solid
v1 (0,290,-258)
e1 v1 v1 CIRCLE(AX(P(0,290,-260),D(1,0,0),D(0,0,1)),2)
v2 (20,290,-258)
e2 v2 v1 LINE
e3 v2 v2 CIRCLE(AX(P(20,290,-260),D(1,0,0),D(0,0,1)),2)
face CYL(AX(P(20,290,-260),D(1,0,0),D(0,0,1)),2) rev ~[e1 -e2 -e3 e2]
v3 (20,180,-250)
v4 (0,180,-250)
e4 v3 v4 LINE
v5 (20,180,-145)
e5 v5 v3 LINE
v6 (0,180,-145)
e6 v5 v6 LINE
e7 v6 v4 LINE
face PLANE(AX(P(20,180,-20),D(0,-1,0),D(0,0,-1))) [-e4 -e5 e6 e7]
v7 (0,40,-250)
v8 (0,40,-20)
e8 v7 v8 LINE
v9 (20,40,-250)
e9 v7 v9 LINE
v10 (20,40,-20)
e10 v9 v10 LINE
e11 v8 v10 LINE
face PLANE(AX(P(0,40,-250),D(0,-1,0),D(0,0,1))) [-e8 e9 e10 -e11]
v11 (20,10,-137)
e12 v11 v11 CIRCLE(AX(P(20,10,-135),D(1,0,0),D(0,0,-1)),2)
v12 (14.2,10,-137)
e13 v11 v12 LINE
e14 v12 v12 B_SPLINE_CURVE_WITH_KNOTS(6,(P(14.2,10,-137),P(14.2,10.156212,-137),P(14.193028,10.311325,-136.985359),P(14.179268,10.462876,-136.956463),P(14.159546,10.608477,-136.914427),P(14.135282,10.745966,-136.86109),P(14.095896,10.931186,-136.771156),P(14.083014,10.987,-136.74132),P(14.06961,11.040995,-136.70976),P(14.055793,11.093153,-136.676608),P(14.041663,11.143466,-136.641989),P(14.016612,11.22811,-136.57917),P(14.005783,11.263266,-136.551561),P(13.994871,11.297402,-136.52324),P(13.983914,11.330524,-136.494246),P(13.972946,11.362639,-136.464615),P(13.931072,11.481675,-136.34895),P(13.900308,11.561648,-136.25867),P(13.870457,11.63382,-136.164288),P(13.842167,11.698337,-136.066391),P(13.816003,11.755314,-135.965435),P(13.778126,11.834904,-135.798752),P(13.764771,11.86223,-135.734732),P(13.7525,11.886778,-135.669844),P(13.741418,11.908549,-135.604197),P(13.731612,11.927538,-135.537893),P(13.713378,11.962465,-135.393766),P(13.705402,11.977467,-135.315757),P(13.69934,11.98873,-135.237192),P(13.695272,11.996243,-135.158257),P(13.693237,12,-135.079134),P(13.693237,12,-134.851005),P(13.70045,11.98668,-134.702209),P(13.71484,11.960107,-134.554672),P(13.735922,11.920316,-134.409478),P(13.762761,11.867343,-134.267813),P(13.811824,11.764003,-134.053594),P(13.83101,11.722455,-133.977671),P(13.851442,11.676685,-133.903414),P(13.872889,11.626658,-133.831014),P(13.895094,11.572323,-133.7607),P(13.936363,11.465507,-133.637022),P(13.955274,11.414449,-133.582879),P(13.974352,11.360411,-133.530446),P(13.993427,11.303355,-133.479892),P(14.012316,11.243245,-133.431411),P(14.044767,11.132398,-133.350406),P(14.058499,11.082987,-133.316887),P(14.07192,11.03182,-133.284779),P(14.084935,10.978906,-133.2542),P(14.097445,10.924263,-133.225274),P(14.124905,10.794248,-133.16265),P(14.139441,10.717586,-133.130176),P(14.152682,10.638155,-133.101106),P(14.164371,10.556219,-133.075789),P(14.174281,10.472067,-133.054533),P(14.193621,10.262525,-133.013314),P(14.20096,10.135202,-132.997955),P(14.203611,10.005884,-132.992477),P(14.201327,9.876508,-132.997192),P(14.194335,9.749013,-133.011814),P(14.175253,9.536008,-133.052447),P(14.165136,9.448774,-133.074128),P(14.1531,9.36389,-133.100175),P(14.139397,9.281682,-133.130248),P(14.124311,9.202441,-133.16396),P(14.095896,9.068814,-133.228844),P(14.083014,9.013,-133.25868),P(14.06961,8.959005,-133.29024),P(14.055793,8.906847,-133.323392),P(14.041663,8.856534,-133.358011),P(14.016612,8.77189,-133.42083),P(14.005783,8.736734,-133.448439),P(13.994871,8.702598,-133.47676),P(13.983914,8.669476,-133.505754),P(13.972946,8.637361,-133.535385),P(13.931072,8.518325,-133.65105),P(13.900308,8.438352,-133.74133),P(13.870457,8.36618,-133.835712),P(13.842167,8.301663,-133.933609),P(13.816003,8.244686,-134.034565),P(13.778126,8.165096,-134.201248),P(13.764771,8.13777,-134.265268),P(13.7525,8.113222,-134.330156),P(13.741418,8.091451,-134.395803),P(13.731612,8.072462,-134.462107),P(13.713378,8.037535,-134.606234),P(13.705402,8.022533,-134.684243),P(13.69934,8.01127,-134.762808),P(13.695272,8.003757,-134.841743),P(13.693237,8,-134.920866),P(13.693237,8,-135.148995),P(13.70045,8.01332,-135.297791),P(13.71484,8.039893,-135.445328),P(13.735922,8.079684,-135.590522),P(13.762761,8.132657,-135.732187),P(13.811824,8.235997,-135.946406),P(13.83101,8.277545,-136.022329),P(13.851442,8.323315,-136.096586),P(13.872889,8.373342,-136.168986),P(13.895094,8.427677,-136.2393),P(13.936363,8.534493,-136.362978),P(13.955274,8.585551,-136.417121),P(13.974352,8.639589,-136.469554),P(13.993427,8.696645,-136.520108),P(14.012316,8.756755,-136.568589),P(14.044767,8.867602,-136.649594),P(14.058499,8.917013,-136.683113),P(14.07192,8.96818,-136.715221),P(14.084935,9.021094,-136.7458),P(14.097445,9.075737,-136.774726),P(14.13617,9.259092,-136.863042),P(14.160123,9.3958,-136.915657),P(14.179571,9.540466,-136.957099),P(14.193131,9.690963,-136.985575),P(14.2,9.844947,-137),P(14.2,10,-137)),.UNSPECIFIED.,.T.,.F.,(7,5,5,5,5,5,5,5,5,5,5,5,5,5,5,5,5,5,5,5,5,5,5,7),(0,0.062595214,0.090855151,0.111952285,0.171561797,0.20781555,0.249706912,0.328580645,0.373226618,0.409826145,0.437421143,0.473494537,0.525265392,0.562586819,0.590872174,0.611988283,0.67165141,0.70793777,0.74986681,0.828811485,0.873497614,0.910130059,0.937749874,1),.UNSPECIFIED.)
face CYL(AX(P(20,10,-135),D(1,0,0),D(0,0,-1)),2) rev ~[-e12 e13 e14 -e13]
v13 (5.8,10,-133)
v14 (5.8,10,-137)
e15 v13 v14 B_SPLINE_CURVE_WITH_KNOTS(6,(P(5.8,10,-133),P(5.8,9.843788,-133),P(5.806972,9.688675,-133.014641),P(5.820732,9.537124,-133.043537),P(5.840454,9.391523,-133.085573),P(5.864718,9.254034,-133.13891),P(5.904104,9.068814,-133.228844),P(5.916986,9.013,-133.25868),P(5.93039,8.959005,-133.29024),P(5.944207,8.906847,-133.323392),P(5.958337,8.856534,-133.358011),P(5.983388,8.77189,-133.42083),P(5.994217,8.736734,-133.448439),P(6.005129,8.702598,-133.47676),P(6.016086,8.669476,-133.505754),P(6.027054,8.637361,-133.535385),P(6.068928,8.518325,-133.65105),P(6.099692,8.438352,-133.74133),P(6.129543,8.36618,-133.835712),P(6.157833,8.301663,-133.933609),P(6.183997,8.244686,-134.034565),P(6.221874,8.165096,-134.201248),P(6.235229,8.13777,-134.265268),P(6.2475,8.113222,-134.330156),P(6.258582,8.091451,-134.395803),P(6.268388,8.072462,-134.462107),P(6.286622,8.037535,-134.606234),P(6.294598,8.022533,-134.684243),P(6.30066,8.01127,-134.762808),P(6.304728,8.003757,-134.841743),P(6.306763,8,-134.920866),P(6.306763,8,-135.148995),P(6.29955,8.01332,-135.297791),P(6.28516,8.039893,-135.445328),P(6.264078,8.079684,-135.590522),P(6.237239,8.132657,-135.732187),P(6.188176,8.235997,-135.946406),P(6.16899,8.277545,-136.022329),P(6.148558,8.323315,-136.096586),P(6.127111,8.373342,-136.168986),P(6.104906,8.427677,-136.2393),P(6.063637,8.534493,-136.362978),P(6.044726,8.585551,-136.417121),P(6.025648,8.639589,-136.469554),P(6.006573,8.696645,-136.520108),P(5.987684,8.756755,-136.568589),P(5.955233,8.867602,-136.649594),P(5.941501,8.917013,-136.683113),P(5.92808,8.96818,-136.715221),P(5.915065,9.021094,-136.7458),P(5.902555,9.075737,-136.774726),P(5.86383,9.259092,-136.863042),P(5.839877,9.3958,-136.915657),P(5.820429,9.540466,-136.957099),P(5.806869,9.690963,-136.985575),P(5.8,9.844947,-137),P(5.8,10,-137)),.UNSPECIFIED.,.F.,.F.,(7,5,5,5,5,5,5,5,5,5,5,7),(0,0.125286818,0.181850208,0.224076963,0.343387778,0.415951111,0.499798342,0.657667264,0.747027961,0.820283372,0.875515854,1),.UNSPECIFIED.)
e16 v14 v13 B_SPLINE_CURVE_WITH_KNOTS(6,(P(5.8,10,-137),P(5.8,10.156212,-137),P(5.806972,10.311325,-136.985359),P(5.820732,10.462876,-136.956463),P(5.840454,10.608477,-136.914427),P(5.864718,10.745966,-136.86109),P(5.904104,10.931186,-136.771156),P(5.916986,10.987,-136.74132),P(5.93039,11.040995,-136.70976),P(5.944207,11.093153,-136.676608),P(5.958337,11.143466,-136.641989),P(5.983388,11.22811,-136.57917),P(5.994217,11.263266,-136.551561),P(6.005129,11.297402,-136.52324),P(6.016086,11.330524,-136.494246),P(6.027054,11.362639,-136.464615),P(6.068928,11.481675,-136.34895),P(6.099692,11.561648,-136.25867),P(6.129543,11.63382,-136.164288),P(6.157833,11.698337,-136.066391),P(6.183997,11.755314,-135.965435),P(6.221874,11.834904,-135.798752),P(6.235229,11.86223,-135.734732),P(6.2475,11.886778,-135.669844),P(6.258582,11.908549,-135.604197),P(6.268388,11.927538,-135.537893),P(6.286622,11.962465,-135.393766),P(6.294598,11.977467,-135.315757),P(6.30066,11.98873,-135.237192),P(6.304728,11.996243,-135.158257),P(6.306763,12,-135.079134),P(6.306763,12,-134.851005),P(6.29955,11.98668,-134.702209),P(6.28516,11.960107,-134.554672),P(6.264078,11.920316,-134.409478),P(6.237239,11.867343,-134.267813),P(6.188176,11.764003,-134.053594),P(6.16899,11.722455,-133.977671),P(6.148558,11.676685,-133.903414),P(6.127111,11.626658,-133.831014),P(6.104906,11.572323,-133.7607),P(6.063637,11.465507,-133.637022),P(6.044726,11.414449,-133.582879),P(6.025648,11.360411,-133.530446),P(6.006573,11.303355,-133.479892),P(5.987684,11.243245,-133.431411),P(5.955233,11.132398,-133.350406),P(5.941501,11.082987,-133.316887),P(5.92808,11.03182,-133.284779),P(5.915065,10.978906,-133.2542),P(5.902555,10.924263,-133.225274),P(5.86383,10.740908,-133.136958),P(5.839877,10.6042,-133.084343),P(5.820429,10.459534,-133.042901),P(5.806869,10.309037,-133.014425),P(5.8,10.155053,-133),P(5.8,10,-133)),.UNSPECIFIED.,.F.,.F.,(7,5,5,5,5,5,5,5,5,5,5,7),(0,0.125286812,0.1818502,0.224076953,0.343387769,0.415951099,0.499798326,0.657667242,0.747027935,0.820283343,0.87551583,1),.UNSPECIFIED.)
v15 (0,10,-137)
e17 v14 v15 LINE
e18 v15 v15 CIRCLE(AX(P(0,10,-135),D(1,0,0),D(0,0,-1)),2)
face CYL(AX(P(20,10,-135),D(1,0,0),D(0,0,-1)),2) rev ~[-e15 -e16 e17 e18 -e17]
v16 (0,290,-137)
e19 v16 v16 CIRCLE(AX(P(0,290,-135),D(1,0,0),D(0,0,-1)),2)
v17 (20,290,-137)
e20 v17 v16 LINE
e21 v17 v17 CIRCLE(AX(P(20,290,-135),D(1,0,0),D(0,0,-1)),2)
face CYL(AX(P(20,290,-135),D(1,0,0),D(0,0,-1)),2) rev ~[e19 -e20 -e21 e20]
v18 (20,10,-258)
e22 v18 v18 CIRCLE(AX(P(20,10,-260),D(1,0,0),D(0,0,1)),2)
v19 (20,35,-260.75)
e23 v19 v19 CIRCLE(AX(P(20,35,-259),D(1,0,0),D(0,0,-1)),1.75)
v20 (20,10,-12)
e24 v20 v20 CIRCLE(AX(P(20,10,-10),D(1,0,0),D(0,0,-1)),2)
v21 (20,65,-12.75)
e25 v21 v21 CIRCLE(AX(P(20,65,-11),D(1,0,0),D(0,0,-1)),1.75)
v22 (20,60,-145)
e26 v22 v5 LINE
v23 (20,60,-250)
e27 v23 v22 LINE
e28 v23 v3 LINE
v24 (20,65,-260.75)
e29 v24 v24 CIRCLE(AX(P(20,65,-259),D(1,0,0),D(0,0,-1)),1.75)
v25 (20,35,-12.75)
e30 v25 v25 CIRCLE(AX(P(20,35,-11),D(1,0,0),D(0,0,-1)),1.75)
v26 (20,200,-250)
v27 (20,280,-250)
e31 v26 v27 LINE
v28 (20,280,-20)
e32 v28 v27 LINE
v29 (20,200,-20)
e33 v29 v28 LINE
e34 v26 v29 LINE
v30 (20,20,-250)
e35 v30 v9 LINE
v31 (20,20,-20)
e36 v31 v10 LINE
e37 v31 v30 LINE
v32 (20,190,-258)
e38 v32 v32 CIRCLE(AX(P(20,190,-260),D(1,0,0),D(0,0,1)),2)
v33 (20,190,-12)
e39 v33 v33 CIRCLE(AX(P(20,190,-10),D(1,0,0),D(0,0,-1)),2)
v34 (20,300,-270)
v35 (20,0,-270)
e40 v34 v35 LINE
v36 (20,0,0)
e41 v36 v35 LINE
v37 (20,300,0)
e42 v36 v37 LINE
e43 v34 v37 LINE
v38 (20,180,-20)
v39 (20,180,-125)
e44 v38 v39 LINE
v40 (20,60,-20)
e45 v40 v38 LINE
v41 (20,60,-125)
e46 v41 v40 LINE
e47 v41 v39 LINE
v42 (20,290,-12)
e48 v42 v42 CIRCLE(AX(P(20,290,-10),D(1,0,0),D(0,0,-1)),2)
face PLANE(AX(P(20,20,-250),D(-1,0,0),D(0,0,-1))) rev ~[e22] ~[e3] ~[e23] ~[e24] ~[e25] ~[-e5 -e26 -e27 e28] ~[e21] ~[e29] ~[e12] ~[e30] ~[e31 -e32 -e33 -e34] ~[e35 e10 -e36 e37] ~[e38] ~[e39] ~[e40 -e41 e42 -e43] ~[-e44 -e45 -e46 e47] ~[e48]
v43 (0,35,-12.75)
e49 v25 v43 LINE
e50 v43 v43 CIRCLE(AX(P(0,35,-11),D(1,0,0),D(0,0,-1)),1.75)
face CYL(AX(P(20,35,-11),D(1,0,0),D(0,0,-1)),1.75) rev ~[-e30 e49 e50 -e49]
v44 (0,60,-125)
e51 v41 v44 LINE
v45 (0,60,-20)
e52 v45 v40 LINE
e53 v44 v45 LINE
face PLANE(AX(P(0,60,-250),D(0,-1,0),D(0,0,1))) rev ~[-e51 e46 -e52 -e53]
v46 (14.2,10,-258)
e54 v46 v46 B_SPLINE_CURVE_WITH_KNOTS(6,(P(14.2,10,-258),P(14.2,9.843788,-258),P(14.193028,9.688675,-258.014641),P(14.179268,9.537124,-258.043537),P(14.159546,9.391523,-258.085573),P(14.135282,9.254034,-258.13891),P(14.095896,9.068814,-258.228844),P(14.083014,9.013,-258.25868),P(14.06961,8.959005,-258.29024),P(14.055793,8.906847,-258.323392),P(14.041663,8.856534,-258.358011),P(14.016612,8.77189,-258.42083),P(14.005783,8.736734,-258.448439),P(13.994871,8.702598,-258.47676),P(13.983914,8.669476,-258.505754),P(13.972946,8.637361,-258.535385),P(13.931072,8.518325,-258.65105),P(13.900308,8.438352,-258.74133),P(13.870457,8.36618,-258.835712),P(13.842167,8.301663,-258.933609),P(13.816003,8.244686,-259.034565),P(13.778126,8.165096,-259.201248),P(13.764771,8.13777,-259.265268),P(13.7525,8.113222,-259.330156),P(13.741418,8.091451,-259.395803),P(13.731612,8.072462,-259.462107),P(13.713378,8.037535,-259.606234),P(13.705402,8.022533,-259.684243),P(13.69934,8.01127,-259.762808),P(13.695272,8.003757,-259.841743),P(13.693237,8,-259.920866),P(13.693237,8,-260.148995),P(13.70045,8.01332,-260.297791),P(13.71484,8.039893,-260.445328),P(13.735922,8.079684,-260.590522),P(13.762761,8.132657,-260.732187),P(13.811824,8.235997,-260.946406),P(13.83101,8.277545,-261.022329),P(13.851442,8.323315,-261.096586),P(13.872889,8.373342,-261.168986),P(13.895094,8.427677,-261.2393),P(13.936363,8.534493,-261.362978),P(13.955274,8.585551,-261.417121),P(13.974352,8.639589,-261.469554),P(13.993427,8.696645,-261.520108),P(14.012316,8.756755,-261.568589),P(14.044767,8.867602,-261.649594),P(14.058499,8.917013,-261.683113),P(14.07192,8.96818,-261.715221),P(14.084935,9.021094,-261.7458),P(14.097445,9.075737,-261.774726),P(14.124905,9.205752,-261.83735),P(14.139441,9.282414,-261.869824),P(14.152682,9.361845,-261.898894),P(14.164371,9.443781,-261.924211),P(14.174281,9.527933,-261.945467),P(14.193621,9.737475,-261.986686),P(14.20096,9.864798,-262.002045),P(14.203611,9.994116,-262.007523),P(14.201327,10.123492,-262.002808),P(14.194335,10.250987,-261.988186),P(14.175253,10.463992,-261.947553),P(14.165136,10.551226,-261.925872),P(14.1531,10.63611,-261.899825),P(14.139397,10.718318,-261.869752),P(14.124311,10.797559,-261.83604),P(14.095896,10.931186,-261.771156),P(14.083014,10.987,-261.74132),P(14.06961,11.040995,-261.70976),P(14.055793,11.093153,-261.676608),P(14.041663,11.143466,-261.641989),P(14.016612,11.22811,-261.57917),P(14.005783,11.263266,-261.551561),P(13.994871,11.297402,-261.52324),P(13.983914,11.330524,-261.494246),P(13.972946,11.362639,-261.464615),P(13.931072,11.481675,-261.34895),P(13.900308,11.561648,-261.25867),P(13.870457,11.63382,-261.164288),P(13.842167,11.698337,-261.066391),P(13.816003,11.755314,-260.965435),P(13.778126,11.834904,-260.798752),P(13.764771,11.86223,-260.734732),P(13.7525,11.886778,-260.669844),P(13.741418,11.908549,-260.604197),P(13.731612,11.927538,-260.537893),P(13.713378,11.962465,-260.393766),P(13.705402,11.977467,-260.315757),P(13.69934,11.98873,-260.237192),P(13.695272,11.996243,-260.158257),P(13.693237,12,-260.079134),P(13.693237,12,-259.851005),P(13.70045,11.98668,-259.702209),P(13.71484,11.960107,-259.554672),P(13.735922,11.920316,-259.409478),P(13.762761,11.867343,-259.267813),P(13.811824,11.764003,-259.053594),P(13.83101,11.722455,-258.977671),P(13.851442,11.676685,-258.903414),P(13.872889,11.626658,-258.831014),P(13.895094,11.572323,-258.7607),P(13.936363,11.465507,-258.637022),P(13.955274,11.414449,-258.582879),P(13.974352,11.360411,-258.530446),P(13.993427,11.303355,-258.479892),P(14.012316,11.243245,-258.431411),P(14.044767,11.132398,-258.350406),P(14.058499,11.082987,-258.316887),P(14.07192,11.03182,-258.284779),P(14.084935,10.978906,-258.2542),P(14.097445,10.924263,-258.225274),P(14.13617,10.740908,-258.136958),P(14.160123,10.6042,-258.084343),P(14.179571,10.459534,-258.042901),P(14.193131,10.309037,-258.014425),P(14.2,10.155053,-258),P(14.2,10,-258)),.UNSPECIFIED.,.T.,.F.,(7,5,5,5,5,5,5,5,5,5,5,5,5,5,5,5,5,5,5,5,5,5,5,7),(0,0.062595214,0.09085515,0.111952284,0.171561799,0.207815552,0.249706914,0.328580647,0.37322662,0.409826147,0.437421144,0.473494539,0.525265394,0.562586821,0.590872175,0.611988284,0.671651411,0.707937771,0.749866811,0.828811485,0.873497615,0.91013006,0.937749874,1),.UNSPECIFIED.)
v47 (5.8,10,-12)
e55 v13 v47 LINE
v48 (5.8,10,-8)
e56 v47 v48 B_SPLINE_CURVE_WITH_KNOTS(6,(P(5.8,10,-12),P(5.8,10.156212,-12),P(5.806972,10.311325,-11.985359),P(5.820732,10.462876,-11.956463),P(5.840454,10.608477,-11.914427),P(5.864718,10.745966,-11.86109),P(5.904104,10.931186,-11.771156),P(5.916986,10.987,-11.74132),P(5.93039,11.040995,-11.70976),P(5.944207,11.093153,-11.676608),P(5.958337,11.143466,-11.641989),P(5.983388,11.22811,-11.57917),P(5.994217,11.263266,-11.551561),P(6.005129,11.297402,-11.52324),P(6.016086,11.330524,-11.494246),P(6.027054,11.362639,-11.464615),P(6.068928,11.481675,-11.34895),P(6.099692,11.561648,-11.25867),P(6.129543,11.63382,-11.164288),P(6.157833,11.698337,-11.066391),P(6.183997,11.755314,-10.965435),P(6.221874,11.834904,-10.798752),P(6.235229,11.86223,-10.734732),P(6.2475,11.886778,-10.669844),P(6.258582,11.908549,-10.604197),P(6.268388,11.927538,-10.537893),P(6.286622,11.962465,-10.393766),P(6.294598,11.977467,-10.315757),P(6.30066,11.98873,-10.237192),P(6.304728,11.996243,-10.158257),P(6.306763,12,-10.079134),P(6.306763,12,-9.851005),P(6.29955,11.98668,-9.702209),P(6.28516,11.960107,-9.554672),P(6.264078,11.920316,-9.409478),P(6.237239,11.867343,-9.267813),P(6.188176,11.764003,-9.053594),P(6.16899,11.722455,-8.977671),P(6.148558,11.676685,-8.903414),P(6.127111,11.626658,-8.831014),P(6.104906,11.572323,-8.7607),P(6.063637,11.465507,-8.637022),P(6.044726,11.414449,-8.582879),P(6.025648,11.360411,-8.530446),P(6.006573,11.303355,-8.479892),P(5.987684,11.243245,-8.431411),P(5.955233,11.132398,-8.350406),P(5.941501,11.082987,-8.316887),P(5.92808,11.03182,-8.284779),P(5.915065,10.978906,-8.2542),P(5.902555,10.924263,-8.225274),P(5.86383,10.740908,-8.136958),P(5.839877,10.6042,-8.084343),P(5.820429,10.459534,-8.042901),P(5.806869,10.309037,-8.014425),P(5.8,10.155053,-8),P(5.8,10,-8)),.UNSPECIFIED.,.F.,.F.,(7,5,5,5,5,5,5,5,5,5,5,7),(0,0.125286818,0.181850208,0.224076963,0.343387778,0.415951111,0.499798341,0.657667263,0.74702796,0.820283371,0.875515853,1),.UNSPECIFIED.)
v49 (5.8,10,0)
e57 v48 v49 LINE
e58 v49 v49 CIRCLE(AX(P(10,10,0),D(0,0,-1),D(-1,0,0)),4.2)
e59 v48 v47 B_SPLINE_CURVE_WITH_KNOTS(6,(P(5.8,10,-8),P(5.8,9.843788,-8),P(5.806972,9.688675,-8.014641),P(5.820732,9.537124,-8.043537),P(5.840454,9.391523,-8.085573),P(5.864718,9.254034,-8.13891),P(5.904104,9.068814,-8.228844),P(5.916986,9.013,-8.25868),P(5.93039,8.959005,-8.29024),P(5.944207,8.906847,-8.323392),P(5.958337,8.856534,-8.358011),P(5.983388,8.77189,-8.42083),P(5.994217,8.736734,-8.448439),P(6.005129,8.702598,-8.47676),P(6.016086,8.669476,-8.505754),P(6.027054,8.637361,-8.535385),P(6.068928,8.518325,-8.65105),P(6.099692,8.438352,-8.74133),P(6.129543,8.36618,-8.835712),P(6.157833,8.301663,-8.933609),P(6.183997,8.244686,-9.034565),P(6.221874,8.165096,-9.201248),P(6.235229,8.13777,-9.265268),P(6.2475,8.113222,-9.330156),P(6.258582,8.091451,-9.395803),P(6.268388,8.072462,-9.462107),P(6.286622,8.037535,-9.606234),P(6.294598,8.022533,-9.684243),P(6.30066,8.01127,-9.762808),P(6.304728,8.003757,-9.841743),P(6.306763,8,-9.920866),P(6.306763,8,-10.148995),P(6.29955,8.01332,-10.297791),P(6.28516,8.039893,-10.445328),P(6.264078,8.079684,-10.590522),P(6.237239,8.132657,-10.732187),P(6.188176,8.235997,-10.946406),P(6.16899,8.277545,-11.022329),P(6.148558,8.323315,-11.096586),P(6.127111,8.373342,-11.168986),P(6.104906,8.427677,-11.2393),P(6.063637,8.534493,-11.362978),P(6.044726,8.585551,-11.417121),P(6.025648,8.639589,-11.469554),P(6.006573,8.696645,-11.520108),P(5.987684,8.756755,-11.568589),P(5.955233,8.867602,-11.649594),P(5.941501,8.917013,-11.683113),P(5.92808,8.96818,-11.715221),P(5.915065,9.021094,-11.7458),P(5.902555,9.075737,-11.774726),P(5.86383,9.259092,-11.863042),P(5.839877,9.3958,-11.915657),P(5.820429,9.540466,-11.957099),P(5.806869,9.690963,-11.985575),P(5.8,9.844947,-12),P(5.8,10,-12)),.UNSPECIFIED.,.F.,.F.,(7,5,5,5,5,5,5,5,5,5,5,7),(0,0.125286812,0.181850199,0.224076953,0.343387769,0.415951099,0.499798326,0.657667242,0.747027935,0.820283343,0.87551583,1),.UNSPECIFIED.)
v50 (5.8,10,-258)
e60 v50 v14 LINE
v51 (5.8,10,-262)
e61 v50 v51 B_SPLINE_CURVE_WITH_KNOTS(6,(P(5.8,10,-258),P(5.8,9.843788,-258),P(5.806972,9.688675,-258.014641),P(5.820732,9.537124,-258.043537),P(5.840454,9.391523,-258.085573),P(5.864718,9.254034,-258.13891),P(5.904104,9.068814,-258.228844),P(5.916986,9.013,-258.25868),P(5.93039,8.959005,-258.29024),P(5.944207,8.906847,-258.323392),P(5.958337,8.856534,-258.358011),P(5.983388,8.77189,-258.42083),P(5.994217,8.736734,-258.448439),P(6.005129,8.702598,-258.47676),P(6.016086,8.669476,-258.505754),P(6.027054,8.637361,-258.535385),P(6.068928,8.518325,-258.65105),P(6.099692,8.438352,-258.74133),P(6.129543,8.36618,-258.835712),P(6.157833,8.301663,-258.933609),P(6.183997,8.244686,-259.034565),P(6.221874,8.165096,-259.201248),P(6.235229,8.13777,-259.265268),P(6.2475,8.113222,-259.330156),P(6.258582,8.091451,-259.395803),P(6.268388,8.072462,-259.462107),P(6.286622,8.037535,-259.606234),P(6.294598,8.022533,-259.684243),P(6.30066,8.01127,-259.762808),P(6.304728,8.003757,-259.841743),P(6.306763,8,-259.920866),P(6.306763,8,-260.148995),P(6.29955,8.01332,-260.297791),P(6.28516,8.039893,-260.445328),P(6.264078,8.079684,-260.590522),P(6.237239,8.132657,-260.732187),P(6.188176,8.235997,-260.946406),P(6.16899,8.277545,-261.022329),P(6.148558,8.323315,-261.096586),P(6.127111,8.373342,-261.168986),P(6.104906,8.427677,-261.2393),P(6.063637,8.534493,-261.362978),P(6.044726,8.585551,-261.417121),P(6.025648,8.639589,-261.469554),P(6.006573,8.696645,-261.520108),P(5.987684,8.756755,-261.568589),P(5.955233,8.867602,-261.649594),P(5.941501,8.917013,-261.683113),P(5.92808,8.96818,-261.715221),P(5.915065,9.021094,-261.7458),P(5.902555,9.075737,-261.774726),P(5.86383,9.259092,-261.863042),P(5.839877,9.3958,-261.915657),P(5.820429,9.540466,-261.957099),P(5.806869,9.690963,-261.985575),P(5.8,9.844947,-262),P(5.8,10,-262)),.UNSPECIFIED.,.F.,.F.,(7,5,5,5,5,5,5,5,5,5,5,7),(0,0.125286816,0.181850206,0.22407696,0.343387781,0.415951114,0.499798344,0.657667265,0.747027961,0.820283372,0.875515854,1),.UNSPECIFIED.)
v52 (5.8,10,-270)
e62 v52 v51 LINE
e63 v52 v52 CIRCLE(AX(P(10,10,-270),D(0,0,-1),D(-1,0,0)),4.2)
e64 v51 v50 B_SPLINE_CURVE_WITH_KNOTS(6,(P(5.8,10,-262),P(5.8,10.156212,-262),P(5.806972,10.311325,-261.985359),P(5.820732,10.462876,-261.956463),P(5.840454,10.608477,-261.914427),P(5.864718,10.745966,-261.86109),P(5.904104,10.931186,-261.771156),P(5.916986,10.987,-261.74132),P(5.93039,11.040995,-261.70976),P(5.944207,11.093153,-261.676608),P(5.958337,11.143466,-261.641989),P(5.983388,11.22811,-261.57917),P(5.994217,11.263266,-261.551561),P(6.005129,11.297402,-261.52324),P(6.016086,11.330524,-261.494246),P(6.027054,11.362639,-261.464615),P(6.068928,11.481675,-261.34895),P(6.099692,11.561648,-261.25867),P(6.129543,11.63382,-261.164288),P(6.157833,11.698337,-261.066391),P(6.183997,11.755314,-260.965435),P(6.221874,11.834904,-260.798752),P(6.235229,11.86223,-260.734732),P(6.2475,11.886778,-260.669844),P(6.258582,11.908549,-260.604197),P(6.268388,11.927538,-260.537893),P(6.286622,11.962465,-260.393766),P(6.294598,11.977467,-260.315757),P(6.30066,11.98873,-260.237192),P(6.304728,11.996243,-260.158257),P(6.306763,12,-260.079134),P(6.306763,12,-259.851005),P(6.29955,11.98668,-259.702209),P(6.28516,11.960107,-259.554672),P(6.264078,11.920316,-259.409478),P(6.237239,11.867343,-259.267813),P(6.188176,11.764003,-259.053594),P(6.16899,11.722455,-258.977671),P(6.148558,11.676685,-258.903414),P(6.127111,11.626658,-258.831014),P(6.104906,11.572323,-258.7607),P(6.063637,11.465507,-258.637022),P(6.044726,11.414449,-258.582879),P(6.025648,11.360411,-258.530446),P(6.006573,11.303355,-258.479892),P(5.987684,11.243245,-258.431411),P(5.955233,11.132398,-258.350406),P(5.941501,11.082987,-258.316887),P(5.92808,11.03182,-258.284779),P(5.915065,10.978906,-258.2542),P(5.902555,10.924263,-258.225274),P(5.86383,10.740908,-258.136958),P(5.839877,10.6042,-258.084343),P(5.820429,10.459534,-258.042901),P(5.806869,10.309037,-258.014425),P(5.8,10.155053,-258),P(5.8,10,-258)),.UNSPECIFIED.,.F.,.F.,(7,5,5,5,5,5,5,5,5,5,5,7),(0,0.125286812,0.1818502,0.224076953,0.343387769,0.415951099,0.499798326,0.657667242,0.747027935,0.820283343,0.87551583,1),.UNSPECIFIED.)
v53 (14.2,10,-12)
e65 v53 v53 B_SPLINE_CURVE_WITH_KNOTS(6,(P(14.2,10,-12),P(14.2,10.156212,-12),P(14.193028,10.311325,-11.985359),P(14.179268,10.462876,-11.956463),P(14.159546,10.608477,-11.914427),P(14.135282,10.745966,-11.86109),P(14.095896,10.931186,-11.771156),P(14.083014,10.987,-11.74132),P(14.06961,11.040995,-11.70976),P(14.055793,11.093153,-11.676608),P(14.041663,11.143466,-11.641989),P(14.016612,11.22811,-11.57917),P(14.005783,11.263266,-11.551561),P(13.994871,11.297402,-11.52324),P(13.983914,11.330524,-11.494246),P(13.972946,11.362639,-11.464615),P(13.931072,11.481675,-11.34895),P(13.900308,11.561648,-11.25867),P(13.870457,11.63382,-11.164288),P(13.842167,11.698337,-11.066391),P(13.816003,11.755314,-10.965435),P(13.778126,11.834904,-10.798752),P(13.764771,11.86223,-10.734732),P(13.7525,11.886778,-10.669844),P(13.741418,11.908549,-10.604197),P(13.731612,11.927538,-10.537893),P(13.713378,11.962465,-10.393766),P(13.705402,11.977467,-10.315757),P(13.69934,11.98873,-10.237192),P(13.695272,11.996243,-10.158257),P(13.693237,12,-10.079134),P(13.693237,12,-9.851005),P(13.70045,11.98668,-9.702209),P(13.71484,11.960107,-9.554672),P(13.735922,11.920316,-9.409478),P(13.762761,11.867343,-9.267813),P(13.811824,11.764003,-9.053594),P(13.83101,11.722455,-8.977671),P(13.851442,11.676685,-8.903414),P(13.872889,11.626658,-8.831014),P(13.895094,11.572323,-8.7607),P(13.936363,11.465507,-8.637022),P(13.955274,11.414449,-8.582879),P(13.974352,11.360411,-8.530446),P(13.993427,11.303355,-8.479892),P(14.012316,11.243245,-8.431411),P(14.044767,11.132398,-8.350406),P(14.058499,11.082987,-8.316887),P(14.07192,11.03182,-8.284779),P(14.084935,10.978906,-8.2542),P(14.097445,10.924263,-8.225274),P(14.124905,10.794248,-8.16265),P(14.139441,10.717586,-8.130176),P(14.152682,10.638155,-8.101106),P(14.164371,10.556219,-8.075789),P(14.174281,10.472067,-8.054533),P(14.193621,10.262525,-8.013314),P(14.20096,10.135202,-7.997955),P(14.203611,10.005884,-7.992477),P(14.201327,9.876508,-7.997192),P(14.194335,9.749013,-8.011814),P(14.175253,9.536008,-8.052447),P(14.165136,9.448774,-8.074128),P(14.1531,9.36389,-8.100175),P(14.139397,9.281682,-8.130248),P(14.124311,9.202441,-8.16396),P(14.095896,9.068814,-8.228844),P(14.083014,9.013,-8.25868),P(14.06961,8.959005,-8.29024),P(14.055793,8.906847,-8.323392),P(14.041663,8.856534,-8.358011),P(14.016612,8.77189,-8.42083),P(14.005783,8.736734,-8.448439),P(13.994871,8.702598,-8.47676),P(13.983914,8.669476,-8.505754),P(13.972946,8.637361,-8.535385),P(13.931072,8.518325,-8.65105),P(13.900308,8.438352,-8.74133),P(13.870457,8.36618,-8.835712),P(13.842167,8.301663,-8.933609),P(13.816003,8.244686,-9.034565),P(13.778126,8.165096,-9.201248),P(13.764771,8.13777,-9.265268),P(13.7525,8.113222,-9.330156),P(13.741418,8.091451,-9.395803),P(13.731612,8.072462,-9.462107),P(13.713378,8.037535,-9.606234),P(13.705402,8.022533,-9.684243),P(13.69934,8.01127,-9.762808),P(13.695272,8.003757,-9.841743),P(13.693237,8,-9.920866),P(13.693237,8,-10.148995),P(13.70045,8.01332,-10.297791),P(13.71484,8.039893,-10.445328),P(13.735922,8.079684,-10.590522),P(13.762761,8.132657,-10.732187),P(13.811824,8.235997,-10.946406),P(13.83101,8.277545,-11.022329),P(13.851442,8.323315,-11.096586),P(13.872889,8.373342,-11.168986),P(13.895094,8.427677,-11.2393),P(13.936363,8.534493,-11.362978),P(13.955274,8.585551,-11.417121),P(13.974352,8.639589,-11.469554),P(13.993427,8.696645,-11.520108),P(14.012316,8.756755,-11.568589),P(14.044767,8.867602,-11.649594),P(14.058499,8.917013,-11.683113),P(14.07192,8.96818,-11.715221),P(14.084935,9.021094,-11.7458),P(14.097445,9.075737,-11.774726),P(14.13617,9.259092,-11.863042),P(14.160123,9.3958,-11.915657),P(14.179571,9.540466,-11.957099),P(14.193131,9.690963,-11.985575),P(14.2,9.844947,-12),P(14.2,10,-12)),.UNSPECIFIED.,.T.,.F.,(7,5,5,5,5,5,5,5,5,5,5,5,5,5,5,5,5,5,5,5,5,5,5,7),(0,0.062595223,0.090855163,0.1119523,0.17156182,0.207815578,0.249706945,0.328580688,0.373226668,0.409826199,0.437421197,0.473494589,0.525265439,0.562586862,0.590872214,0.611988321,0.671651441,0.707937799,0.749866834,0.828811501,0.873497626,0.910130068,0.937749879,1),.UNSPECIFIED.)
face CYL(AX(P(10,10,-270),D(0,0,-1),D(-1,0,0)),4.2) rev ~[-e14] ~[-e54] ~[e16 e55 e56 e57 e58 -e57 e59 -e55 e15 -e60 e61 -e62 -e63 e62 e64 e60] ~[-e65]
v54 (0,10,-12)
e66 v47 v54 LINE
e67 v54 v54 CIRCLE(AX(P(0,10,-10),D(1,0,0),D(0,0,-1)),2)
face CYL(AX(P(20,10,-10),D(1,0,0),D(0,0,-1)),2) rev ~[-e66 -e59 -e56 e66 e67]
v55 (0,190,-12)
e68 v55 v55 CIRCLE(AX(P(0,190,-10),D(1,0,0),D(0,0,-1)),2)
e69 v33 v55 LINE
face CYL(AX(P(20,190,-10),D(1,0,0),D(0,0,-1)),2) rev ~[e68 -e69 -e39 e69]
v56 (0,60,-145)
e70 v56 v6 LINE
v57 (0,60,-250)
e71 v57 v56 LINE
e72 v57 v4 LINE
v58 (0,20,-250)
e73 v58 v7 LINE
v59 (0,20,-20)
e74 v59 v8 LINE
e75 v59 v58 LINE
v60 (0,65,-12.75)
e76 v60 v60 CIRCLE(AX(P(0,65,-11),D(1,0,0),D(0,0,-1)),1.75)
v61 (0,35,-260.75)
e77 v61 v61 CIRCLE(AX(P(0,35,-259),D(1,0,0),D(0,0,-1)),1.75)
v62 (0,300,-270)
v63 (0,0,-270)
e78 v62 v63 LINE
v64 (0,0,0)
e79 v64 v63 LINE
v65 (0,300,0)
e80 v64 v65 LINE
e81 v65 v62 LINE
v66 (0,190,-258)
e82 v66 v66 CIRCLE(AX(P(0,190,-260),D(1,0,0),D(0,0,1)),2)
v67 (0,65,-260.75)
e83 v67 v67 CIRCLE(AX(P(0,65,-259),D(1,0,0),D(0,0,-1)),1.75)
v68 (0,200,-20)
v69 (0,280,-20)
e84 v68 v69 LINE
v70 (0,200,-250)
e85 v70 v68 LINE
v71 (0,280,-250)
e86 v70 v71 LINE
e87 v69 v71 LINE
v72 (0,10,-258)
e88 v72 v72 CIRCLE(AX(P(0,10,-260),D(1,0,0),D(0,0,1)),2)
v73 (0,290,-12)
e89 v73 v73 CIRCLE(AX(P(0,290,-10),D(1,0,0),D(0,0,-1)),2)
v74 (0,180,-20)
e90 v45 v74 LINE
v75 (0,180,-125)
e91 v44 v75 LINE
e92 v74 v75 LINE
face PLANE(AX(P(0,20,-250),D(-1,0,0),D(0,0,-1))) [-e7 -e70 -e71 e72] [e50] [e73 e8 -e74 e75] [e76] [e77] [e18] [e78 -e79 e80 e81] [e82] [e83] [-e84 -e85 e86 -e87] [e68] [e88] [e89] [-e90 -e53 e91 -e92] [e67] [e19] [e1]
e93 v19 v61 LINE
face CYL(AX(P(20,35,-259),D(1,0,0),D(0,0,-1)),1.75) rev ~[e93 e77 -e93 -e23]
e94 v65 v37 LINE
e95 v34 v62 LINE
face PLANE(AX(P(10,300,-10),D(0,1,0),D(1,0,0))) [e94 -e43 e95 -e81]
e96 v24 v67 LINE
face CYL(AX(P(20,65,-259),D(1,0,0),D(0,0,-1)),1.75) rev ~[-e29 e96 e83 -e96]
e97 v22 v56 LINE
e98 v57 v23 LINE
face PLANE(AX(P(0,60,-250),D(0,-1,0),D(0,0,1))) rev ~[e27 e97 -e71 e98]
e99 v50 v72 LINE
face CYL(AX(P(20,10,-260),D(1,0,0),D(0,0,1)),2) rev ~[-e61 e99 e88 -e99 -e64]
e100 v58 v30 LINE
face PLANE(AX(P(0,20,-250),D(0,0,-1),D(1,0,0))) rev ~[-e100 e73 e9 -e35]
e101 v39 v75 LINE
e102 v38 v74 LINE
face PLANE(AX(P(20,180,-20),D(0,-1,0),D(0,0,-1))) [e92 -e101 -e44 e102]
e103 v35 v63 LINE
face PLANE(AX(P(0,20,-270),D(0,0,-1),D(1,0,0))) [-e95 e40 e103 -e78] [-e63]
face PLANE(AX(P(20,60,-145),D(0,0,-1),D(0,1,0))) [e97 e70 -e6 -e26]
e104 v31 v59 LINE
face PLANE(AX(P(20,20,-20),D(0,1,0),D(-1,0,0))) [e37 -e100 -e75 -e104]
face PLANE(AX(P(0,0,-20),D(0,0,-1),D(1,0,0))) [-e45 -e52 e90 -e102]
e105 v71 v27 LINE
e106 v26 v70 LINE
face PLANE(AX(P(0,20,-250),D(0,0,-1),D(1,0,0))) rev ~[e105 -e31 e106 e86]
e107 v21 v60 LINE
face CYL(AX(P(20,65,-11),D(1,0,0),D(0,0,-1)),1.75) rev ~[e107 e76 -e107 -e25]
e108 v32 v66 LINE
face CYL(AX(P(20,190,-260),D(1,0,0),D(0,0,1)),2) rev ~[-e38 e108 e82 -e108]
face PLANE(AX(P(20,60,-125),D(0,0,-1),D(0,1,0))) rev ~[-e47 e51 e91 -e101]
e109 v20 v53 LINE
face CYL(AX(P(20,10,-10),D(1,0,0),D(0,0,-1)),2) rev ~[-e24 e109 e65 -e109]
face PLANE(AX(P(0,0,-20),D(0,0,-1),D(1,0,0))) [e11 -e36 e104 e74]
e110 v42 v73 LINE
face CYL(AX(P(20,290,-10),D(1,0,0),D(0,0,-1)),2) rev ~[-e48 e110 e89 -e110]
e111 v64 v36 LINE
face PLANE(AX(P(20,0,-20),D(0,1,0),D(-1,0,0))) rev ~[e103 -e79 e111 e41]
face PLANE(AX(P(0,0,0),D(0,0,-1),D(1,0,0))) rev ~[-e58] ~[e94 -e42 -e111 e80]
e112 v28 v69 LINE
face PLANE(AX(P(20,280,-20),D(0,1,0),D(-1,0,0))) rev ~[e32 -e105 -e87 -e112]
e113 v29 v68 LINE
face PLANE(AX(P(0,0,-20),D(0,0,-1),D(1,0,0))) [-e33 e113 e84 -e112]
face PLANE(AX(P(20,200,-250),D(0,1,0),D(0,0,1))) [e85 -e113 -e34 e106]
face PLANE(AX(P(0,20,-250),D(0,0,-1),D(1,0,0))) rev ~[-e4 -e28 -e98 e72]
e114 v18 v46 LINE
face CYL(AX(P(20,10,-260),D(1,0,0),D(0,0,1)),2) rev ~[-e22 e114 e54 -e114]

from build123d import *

# Parameters (mm, degrees)
SKETCH3_W           = 20
SKETCH3_H           = 20
BOSS_EXTRUDE1_DEPTH = 300
SKETCH5_W           = 20
SKETCH5_H           = 20
BOSS_EXTRUDE4_DEPTH = 250
SKETCH8_W           = 20
SKETCH8_H           = 20
BOSS_EXTRUDE5_DEPTH = 260
SKETCH13_W          = 230
SKETCH13_H          = 20
BOSS_EXTRUDE7_DEPTH = 20
BOSS_EXTRUDE8_DEPTH = 20
SKETCH15_W          = 20
SKETCH15_H          = 120
BOSS_EXTRUDE9_DEPTH = 20
SKETCH16_R          = 2
CUT_EXTRUDE1_DEPTH  = 20
SKETCH17_R          = 4.2
CUT_EXTRUDE2_DEPTH  = 270
SKETCH19_R          = 1.75
CUT_EXTRUDE3_DEPTH  = 78


with BuildPart() as part:
    # Sketch3 → Boss-Extrude1 (new body)
    with BuildSketch(Plane(origin=(0, 0, 0), x_dir=(1, 0, 0), z_dir=(0, 1, 0))):
        with Locations((10, 10)):
            Rectangle(SKETCH3_W, SKETCH3_H)
    extrude(amount=BOSS_EXTRUDE1_DEPTH)

    # Sketch5 → Boss-Extrude4 (add)
    with BuildSketch(Plane(origin=(0, 0, -20), x_dir=(-1, 0, 0), z_dir=(0, 0, -1))):
        with Locations((-10, 10)):
            Rectangle(SKETCH5_W, SKETCH5_H)
        with Locations((-10, 290)):
            Rectangle(SKETCH5_W, SKETCH5_H)
    extrude(amount=BOSS_EXTRUDE4_DEPTH)

    # Sketch8 → Boss-Extrude5 (add)
    with BuildSketch(Plane(origin=(0, 20, 0), x_dir=(1, 0, 0), z_dir=(0, 1, 0))):
        with Locations((10, 260)):
            Rectangle(SKETCH8_W, SKETCH8_H)
    extrude(amount=BOSS_EXTRUDE5_DEPTH)

    # Sketch13 → Boss-Extrude7 (add)
    with BuildSketch(Plane.ZY):
        with Locations((-135, 50)):
            Rectangle(SKETCH13_W, SKETCH13_H)
    extrude(amount=-BOSS_EXTRUDE7_DEPTH)

    # Sketch14 → Boss-Extrude8 (add)
    with BuildSketch(Plane(origin=(20, 0, 0), x_dir=(0, 0, -1), z_dir=(1, 0, 0))):
        Polygon((125, 200), (20, 200), (20, 180), (125, 180), (145, 180), (250, 180), (250, 200), (145, 200), align=None)
    extrude(amount=-BOSS_EXTRUDE8_DEPTH)

    # Sketch15 → Boss-Extrude9 (add)
    with BuildSketch(Plane(origin=(20, 0, 0), x_dir=(0, 0, -1), z_dir=(1, 0, 0))):
        with Locations((135, 120)):
            Rectangle(SKETCH15_W, SKETCH15_H)
    extrude(amount=-BOSS_EXTRUDE9_DEPTH)

    # Sketch16 → Cut-Extrude1 (cut)
    with BuildSketch(Plane(origin=(20, 0, 0), x_dir=(0, 0, -1), z_dir=(1, 0, 0))):
        with Locations((10, 290)):
            Circle(SKETCH16_R)
        with Locations((10, 190)):
            Circle(SKETCH16_R)
        with Locations((10, 10)):
            Circle(SKETCH16_R)
        with Locations((135, 10)):
            Circle(SKETCH16_R)
        with Locations((135, 290)):
            Circle(SKETCH16_R)
        with Locations(Location((260, 10, 0), (0, 0, 180))):
            Circle(SKETCH16_R)
        with Locations(Location((260, 190, 0), (0, 0, 180))):
            Circle(SKETCH16_R)
        with Locations(Location((260, 290, 0), (0, 0, 180))):
            Circle(SKETCH16_R)
    extrude(amount=-CUT_EXTRUDE1_DEPTH, mode=Mode.SUBTRACT)

    # Sketch17 → Cut-Extrude2 (cut)
    with BuildSketch(Plane(origin=(0, 0, -270), x_dir=(-1, 0, 0), z_dir=(0, 0, -1))):
        with Locations((-10, 10)):
            Circle(SKETCH17_R)
    extrude(amount=-CUT_EXTRUDE2_DEPTH, mode=Mode.SUBTRACT)

    # Sketch19 → Cut-Extrude3 (cut)
    with BuildSketch(Plane(origin=(20, 0, 0), x_dir=(0, 0, -1), z_dir=(1, 0, 0))):
        with Locations((11, 35)):
            Circle(SKETCH19_R)
        with Locations((11, 65)):
            Circle(SKETCH19_R)
        with Locations((259, 35)):
            Circle(SKETCH19_R)
        with Locations((259, 65)):
            Circle(SKETCH19_R)
    extrude(amount=-CUT_EXTRUDE3_DEPTH, mode=Mode.SUBTRACT)


solid = part.part
